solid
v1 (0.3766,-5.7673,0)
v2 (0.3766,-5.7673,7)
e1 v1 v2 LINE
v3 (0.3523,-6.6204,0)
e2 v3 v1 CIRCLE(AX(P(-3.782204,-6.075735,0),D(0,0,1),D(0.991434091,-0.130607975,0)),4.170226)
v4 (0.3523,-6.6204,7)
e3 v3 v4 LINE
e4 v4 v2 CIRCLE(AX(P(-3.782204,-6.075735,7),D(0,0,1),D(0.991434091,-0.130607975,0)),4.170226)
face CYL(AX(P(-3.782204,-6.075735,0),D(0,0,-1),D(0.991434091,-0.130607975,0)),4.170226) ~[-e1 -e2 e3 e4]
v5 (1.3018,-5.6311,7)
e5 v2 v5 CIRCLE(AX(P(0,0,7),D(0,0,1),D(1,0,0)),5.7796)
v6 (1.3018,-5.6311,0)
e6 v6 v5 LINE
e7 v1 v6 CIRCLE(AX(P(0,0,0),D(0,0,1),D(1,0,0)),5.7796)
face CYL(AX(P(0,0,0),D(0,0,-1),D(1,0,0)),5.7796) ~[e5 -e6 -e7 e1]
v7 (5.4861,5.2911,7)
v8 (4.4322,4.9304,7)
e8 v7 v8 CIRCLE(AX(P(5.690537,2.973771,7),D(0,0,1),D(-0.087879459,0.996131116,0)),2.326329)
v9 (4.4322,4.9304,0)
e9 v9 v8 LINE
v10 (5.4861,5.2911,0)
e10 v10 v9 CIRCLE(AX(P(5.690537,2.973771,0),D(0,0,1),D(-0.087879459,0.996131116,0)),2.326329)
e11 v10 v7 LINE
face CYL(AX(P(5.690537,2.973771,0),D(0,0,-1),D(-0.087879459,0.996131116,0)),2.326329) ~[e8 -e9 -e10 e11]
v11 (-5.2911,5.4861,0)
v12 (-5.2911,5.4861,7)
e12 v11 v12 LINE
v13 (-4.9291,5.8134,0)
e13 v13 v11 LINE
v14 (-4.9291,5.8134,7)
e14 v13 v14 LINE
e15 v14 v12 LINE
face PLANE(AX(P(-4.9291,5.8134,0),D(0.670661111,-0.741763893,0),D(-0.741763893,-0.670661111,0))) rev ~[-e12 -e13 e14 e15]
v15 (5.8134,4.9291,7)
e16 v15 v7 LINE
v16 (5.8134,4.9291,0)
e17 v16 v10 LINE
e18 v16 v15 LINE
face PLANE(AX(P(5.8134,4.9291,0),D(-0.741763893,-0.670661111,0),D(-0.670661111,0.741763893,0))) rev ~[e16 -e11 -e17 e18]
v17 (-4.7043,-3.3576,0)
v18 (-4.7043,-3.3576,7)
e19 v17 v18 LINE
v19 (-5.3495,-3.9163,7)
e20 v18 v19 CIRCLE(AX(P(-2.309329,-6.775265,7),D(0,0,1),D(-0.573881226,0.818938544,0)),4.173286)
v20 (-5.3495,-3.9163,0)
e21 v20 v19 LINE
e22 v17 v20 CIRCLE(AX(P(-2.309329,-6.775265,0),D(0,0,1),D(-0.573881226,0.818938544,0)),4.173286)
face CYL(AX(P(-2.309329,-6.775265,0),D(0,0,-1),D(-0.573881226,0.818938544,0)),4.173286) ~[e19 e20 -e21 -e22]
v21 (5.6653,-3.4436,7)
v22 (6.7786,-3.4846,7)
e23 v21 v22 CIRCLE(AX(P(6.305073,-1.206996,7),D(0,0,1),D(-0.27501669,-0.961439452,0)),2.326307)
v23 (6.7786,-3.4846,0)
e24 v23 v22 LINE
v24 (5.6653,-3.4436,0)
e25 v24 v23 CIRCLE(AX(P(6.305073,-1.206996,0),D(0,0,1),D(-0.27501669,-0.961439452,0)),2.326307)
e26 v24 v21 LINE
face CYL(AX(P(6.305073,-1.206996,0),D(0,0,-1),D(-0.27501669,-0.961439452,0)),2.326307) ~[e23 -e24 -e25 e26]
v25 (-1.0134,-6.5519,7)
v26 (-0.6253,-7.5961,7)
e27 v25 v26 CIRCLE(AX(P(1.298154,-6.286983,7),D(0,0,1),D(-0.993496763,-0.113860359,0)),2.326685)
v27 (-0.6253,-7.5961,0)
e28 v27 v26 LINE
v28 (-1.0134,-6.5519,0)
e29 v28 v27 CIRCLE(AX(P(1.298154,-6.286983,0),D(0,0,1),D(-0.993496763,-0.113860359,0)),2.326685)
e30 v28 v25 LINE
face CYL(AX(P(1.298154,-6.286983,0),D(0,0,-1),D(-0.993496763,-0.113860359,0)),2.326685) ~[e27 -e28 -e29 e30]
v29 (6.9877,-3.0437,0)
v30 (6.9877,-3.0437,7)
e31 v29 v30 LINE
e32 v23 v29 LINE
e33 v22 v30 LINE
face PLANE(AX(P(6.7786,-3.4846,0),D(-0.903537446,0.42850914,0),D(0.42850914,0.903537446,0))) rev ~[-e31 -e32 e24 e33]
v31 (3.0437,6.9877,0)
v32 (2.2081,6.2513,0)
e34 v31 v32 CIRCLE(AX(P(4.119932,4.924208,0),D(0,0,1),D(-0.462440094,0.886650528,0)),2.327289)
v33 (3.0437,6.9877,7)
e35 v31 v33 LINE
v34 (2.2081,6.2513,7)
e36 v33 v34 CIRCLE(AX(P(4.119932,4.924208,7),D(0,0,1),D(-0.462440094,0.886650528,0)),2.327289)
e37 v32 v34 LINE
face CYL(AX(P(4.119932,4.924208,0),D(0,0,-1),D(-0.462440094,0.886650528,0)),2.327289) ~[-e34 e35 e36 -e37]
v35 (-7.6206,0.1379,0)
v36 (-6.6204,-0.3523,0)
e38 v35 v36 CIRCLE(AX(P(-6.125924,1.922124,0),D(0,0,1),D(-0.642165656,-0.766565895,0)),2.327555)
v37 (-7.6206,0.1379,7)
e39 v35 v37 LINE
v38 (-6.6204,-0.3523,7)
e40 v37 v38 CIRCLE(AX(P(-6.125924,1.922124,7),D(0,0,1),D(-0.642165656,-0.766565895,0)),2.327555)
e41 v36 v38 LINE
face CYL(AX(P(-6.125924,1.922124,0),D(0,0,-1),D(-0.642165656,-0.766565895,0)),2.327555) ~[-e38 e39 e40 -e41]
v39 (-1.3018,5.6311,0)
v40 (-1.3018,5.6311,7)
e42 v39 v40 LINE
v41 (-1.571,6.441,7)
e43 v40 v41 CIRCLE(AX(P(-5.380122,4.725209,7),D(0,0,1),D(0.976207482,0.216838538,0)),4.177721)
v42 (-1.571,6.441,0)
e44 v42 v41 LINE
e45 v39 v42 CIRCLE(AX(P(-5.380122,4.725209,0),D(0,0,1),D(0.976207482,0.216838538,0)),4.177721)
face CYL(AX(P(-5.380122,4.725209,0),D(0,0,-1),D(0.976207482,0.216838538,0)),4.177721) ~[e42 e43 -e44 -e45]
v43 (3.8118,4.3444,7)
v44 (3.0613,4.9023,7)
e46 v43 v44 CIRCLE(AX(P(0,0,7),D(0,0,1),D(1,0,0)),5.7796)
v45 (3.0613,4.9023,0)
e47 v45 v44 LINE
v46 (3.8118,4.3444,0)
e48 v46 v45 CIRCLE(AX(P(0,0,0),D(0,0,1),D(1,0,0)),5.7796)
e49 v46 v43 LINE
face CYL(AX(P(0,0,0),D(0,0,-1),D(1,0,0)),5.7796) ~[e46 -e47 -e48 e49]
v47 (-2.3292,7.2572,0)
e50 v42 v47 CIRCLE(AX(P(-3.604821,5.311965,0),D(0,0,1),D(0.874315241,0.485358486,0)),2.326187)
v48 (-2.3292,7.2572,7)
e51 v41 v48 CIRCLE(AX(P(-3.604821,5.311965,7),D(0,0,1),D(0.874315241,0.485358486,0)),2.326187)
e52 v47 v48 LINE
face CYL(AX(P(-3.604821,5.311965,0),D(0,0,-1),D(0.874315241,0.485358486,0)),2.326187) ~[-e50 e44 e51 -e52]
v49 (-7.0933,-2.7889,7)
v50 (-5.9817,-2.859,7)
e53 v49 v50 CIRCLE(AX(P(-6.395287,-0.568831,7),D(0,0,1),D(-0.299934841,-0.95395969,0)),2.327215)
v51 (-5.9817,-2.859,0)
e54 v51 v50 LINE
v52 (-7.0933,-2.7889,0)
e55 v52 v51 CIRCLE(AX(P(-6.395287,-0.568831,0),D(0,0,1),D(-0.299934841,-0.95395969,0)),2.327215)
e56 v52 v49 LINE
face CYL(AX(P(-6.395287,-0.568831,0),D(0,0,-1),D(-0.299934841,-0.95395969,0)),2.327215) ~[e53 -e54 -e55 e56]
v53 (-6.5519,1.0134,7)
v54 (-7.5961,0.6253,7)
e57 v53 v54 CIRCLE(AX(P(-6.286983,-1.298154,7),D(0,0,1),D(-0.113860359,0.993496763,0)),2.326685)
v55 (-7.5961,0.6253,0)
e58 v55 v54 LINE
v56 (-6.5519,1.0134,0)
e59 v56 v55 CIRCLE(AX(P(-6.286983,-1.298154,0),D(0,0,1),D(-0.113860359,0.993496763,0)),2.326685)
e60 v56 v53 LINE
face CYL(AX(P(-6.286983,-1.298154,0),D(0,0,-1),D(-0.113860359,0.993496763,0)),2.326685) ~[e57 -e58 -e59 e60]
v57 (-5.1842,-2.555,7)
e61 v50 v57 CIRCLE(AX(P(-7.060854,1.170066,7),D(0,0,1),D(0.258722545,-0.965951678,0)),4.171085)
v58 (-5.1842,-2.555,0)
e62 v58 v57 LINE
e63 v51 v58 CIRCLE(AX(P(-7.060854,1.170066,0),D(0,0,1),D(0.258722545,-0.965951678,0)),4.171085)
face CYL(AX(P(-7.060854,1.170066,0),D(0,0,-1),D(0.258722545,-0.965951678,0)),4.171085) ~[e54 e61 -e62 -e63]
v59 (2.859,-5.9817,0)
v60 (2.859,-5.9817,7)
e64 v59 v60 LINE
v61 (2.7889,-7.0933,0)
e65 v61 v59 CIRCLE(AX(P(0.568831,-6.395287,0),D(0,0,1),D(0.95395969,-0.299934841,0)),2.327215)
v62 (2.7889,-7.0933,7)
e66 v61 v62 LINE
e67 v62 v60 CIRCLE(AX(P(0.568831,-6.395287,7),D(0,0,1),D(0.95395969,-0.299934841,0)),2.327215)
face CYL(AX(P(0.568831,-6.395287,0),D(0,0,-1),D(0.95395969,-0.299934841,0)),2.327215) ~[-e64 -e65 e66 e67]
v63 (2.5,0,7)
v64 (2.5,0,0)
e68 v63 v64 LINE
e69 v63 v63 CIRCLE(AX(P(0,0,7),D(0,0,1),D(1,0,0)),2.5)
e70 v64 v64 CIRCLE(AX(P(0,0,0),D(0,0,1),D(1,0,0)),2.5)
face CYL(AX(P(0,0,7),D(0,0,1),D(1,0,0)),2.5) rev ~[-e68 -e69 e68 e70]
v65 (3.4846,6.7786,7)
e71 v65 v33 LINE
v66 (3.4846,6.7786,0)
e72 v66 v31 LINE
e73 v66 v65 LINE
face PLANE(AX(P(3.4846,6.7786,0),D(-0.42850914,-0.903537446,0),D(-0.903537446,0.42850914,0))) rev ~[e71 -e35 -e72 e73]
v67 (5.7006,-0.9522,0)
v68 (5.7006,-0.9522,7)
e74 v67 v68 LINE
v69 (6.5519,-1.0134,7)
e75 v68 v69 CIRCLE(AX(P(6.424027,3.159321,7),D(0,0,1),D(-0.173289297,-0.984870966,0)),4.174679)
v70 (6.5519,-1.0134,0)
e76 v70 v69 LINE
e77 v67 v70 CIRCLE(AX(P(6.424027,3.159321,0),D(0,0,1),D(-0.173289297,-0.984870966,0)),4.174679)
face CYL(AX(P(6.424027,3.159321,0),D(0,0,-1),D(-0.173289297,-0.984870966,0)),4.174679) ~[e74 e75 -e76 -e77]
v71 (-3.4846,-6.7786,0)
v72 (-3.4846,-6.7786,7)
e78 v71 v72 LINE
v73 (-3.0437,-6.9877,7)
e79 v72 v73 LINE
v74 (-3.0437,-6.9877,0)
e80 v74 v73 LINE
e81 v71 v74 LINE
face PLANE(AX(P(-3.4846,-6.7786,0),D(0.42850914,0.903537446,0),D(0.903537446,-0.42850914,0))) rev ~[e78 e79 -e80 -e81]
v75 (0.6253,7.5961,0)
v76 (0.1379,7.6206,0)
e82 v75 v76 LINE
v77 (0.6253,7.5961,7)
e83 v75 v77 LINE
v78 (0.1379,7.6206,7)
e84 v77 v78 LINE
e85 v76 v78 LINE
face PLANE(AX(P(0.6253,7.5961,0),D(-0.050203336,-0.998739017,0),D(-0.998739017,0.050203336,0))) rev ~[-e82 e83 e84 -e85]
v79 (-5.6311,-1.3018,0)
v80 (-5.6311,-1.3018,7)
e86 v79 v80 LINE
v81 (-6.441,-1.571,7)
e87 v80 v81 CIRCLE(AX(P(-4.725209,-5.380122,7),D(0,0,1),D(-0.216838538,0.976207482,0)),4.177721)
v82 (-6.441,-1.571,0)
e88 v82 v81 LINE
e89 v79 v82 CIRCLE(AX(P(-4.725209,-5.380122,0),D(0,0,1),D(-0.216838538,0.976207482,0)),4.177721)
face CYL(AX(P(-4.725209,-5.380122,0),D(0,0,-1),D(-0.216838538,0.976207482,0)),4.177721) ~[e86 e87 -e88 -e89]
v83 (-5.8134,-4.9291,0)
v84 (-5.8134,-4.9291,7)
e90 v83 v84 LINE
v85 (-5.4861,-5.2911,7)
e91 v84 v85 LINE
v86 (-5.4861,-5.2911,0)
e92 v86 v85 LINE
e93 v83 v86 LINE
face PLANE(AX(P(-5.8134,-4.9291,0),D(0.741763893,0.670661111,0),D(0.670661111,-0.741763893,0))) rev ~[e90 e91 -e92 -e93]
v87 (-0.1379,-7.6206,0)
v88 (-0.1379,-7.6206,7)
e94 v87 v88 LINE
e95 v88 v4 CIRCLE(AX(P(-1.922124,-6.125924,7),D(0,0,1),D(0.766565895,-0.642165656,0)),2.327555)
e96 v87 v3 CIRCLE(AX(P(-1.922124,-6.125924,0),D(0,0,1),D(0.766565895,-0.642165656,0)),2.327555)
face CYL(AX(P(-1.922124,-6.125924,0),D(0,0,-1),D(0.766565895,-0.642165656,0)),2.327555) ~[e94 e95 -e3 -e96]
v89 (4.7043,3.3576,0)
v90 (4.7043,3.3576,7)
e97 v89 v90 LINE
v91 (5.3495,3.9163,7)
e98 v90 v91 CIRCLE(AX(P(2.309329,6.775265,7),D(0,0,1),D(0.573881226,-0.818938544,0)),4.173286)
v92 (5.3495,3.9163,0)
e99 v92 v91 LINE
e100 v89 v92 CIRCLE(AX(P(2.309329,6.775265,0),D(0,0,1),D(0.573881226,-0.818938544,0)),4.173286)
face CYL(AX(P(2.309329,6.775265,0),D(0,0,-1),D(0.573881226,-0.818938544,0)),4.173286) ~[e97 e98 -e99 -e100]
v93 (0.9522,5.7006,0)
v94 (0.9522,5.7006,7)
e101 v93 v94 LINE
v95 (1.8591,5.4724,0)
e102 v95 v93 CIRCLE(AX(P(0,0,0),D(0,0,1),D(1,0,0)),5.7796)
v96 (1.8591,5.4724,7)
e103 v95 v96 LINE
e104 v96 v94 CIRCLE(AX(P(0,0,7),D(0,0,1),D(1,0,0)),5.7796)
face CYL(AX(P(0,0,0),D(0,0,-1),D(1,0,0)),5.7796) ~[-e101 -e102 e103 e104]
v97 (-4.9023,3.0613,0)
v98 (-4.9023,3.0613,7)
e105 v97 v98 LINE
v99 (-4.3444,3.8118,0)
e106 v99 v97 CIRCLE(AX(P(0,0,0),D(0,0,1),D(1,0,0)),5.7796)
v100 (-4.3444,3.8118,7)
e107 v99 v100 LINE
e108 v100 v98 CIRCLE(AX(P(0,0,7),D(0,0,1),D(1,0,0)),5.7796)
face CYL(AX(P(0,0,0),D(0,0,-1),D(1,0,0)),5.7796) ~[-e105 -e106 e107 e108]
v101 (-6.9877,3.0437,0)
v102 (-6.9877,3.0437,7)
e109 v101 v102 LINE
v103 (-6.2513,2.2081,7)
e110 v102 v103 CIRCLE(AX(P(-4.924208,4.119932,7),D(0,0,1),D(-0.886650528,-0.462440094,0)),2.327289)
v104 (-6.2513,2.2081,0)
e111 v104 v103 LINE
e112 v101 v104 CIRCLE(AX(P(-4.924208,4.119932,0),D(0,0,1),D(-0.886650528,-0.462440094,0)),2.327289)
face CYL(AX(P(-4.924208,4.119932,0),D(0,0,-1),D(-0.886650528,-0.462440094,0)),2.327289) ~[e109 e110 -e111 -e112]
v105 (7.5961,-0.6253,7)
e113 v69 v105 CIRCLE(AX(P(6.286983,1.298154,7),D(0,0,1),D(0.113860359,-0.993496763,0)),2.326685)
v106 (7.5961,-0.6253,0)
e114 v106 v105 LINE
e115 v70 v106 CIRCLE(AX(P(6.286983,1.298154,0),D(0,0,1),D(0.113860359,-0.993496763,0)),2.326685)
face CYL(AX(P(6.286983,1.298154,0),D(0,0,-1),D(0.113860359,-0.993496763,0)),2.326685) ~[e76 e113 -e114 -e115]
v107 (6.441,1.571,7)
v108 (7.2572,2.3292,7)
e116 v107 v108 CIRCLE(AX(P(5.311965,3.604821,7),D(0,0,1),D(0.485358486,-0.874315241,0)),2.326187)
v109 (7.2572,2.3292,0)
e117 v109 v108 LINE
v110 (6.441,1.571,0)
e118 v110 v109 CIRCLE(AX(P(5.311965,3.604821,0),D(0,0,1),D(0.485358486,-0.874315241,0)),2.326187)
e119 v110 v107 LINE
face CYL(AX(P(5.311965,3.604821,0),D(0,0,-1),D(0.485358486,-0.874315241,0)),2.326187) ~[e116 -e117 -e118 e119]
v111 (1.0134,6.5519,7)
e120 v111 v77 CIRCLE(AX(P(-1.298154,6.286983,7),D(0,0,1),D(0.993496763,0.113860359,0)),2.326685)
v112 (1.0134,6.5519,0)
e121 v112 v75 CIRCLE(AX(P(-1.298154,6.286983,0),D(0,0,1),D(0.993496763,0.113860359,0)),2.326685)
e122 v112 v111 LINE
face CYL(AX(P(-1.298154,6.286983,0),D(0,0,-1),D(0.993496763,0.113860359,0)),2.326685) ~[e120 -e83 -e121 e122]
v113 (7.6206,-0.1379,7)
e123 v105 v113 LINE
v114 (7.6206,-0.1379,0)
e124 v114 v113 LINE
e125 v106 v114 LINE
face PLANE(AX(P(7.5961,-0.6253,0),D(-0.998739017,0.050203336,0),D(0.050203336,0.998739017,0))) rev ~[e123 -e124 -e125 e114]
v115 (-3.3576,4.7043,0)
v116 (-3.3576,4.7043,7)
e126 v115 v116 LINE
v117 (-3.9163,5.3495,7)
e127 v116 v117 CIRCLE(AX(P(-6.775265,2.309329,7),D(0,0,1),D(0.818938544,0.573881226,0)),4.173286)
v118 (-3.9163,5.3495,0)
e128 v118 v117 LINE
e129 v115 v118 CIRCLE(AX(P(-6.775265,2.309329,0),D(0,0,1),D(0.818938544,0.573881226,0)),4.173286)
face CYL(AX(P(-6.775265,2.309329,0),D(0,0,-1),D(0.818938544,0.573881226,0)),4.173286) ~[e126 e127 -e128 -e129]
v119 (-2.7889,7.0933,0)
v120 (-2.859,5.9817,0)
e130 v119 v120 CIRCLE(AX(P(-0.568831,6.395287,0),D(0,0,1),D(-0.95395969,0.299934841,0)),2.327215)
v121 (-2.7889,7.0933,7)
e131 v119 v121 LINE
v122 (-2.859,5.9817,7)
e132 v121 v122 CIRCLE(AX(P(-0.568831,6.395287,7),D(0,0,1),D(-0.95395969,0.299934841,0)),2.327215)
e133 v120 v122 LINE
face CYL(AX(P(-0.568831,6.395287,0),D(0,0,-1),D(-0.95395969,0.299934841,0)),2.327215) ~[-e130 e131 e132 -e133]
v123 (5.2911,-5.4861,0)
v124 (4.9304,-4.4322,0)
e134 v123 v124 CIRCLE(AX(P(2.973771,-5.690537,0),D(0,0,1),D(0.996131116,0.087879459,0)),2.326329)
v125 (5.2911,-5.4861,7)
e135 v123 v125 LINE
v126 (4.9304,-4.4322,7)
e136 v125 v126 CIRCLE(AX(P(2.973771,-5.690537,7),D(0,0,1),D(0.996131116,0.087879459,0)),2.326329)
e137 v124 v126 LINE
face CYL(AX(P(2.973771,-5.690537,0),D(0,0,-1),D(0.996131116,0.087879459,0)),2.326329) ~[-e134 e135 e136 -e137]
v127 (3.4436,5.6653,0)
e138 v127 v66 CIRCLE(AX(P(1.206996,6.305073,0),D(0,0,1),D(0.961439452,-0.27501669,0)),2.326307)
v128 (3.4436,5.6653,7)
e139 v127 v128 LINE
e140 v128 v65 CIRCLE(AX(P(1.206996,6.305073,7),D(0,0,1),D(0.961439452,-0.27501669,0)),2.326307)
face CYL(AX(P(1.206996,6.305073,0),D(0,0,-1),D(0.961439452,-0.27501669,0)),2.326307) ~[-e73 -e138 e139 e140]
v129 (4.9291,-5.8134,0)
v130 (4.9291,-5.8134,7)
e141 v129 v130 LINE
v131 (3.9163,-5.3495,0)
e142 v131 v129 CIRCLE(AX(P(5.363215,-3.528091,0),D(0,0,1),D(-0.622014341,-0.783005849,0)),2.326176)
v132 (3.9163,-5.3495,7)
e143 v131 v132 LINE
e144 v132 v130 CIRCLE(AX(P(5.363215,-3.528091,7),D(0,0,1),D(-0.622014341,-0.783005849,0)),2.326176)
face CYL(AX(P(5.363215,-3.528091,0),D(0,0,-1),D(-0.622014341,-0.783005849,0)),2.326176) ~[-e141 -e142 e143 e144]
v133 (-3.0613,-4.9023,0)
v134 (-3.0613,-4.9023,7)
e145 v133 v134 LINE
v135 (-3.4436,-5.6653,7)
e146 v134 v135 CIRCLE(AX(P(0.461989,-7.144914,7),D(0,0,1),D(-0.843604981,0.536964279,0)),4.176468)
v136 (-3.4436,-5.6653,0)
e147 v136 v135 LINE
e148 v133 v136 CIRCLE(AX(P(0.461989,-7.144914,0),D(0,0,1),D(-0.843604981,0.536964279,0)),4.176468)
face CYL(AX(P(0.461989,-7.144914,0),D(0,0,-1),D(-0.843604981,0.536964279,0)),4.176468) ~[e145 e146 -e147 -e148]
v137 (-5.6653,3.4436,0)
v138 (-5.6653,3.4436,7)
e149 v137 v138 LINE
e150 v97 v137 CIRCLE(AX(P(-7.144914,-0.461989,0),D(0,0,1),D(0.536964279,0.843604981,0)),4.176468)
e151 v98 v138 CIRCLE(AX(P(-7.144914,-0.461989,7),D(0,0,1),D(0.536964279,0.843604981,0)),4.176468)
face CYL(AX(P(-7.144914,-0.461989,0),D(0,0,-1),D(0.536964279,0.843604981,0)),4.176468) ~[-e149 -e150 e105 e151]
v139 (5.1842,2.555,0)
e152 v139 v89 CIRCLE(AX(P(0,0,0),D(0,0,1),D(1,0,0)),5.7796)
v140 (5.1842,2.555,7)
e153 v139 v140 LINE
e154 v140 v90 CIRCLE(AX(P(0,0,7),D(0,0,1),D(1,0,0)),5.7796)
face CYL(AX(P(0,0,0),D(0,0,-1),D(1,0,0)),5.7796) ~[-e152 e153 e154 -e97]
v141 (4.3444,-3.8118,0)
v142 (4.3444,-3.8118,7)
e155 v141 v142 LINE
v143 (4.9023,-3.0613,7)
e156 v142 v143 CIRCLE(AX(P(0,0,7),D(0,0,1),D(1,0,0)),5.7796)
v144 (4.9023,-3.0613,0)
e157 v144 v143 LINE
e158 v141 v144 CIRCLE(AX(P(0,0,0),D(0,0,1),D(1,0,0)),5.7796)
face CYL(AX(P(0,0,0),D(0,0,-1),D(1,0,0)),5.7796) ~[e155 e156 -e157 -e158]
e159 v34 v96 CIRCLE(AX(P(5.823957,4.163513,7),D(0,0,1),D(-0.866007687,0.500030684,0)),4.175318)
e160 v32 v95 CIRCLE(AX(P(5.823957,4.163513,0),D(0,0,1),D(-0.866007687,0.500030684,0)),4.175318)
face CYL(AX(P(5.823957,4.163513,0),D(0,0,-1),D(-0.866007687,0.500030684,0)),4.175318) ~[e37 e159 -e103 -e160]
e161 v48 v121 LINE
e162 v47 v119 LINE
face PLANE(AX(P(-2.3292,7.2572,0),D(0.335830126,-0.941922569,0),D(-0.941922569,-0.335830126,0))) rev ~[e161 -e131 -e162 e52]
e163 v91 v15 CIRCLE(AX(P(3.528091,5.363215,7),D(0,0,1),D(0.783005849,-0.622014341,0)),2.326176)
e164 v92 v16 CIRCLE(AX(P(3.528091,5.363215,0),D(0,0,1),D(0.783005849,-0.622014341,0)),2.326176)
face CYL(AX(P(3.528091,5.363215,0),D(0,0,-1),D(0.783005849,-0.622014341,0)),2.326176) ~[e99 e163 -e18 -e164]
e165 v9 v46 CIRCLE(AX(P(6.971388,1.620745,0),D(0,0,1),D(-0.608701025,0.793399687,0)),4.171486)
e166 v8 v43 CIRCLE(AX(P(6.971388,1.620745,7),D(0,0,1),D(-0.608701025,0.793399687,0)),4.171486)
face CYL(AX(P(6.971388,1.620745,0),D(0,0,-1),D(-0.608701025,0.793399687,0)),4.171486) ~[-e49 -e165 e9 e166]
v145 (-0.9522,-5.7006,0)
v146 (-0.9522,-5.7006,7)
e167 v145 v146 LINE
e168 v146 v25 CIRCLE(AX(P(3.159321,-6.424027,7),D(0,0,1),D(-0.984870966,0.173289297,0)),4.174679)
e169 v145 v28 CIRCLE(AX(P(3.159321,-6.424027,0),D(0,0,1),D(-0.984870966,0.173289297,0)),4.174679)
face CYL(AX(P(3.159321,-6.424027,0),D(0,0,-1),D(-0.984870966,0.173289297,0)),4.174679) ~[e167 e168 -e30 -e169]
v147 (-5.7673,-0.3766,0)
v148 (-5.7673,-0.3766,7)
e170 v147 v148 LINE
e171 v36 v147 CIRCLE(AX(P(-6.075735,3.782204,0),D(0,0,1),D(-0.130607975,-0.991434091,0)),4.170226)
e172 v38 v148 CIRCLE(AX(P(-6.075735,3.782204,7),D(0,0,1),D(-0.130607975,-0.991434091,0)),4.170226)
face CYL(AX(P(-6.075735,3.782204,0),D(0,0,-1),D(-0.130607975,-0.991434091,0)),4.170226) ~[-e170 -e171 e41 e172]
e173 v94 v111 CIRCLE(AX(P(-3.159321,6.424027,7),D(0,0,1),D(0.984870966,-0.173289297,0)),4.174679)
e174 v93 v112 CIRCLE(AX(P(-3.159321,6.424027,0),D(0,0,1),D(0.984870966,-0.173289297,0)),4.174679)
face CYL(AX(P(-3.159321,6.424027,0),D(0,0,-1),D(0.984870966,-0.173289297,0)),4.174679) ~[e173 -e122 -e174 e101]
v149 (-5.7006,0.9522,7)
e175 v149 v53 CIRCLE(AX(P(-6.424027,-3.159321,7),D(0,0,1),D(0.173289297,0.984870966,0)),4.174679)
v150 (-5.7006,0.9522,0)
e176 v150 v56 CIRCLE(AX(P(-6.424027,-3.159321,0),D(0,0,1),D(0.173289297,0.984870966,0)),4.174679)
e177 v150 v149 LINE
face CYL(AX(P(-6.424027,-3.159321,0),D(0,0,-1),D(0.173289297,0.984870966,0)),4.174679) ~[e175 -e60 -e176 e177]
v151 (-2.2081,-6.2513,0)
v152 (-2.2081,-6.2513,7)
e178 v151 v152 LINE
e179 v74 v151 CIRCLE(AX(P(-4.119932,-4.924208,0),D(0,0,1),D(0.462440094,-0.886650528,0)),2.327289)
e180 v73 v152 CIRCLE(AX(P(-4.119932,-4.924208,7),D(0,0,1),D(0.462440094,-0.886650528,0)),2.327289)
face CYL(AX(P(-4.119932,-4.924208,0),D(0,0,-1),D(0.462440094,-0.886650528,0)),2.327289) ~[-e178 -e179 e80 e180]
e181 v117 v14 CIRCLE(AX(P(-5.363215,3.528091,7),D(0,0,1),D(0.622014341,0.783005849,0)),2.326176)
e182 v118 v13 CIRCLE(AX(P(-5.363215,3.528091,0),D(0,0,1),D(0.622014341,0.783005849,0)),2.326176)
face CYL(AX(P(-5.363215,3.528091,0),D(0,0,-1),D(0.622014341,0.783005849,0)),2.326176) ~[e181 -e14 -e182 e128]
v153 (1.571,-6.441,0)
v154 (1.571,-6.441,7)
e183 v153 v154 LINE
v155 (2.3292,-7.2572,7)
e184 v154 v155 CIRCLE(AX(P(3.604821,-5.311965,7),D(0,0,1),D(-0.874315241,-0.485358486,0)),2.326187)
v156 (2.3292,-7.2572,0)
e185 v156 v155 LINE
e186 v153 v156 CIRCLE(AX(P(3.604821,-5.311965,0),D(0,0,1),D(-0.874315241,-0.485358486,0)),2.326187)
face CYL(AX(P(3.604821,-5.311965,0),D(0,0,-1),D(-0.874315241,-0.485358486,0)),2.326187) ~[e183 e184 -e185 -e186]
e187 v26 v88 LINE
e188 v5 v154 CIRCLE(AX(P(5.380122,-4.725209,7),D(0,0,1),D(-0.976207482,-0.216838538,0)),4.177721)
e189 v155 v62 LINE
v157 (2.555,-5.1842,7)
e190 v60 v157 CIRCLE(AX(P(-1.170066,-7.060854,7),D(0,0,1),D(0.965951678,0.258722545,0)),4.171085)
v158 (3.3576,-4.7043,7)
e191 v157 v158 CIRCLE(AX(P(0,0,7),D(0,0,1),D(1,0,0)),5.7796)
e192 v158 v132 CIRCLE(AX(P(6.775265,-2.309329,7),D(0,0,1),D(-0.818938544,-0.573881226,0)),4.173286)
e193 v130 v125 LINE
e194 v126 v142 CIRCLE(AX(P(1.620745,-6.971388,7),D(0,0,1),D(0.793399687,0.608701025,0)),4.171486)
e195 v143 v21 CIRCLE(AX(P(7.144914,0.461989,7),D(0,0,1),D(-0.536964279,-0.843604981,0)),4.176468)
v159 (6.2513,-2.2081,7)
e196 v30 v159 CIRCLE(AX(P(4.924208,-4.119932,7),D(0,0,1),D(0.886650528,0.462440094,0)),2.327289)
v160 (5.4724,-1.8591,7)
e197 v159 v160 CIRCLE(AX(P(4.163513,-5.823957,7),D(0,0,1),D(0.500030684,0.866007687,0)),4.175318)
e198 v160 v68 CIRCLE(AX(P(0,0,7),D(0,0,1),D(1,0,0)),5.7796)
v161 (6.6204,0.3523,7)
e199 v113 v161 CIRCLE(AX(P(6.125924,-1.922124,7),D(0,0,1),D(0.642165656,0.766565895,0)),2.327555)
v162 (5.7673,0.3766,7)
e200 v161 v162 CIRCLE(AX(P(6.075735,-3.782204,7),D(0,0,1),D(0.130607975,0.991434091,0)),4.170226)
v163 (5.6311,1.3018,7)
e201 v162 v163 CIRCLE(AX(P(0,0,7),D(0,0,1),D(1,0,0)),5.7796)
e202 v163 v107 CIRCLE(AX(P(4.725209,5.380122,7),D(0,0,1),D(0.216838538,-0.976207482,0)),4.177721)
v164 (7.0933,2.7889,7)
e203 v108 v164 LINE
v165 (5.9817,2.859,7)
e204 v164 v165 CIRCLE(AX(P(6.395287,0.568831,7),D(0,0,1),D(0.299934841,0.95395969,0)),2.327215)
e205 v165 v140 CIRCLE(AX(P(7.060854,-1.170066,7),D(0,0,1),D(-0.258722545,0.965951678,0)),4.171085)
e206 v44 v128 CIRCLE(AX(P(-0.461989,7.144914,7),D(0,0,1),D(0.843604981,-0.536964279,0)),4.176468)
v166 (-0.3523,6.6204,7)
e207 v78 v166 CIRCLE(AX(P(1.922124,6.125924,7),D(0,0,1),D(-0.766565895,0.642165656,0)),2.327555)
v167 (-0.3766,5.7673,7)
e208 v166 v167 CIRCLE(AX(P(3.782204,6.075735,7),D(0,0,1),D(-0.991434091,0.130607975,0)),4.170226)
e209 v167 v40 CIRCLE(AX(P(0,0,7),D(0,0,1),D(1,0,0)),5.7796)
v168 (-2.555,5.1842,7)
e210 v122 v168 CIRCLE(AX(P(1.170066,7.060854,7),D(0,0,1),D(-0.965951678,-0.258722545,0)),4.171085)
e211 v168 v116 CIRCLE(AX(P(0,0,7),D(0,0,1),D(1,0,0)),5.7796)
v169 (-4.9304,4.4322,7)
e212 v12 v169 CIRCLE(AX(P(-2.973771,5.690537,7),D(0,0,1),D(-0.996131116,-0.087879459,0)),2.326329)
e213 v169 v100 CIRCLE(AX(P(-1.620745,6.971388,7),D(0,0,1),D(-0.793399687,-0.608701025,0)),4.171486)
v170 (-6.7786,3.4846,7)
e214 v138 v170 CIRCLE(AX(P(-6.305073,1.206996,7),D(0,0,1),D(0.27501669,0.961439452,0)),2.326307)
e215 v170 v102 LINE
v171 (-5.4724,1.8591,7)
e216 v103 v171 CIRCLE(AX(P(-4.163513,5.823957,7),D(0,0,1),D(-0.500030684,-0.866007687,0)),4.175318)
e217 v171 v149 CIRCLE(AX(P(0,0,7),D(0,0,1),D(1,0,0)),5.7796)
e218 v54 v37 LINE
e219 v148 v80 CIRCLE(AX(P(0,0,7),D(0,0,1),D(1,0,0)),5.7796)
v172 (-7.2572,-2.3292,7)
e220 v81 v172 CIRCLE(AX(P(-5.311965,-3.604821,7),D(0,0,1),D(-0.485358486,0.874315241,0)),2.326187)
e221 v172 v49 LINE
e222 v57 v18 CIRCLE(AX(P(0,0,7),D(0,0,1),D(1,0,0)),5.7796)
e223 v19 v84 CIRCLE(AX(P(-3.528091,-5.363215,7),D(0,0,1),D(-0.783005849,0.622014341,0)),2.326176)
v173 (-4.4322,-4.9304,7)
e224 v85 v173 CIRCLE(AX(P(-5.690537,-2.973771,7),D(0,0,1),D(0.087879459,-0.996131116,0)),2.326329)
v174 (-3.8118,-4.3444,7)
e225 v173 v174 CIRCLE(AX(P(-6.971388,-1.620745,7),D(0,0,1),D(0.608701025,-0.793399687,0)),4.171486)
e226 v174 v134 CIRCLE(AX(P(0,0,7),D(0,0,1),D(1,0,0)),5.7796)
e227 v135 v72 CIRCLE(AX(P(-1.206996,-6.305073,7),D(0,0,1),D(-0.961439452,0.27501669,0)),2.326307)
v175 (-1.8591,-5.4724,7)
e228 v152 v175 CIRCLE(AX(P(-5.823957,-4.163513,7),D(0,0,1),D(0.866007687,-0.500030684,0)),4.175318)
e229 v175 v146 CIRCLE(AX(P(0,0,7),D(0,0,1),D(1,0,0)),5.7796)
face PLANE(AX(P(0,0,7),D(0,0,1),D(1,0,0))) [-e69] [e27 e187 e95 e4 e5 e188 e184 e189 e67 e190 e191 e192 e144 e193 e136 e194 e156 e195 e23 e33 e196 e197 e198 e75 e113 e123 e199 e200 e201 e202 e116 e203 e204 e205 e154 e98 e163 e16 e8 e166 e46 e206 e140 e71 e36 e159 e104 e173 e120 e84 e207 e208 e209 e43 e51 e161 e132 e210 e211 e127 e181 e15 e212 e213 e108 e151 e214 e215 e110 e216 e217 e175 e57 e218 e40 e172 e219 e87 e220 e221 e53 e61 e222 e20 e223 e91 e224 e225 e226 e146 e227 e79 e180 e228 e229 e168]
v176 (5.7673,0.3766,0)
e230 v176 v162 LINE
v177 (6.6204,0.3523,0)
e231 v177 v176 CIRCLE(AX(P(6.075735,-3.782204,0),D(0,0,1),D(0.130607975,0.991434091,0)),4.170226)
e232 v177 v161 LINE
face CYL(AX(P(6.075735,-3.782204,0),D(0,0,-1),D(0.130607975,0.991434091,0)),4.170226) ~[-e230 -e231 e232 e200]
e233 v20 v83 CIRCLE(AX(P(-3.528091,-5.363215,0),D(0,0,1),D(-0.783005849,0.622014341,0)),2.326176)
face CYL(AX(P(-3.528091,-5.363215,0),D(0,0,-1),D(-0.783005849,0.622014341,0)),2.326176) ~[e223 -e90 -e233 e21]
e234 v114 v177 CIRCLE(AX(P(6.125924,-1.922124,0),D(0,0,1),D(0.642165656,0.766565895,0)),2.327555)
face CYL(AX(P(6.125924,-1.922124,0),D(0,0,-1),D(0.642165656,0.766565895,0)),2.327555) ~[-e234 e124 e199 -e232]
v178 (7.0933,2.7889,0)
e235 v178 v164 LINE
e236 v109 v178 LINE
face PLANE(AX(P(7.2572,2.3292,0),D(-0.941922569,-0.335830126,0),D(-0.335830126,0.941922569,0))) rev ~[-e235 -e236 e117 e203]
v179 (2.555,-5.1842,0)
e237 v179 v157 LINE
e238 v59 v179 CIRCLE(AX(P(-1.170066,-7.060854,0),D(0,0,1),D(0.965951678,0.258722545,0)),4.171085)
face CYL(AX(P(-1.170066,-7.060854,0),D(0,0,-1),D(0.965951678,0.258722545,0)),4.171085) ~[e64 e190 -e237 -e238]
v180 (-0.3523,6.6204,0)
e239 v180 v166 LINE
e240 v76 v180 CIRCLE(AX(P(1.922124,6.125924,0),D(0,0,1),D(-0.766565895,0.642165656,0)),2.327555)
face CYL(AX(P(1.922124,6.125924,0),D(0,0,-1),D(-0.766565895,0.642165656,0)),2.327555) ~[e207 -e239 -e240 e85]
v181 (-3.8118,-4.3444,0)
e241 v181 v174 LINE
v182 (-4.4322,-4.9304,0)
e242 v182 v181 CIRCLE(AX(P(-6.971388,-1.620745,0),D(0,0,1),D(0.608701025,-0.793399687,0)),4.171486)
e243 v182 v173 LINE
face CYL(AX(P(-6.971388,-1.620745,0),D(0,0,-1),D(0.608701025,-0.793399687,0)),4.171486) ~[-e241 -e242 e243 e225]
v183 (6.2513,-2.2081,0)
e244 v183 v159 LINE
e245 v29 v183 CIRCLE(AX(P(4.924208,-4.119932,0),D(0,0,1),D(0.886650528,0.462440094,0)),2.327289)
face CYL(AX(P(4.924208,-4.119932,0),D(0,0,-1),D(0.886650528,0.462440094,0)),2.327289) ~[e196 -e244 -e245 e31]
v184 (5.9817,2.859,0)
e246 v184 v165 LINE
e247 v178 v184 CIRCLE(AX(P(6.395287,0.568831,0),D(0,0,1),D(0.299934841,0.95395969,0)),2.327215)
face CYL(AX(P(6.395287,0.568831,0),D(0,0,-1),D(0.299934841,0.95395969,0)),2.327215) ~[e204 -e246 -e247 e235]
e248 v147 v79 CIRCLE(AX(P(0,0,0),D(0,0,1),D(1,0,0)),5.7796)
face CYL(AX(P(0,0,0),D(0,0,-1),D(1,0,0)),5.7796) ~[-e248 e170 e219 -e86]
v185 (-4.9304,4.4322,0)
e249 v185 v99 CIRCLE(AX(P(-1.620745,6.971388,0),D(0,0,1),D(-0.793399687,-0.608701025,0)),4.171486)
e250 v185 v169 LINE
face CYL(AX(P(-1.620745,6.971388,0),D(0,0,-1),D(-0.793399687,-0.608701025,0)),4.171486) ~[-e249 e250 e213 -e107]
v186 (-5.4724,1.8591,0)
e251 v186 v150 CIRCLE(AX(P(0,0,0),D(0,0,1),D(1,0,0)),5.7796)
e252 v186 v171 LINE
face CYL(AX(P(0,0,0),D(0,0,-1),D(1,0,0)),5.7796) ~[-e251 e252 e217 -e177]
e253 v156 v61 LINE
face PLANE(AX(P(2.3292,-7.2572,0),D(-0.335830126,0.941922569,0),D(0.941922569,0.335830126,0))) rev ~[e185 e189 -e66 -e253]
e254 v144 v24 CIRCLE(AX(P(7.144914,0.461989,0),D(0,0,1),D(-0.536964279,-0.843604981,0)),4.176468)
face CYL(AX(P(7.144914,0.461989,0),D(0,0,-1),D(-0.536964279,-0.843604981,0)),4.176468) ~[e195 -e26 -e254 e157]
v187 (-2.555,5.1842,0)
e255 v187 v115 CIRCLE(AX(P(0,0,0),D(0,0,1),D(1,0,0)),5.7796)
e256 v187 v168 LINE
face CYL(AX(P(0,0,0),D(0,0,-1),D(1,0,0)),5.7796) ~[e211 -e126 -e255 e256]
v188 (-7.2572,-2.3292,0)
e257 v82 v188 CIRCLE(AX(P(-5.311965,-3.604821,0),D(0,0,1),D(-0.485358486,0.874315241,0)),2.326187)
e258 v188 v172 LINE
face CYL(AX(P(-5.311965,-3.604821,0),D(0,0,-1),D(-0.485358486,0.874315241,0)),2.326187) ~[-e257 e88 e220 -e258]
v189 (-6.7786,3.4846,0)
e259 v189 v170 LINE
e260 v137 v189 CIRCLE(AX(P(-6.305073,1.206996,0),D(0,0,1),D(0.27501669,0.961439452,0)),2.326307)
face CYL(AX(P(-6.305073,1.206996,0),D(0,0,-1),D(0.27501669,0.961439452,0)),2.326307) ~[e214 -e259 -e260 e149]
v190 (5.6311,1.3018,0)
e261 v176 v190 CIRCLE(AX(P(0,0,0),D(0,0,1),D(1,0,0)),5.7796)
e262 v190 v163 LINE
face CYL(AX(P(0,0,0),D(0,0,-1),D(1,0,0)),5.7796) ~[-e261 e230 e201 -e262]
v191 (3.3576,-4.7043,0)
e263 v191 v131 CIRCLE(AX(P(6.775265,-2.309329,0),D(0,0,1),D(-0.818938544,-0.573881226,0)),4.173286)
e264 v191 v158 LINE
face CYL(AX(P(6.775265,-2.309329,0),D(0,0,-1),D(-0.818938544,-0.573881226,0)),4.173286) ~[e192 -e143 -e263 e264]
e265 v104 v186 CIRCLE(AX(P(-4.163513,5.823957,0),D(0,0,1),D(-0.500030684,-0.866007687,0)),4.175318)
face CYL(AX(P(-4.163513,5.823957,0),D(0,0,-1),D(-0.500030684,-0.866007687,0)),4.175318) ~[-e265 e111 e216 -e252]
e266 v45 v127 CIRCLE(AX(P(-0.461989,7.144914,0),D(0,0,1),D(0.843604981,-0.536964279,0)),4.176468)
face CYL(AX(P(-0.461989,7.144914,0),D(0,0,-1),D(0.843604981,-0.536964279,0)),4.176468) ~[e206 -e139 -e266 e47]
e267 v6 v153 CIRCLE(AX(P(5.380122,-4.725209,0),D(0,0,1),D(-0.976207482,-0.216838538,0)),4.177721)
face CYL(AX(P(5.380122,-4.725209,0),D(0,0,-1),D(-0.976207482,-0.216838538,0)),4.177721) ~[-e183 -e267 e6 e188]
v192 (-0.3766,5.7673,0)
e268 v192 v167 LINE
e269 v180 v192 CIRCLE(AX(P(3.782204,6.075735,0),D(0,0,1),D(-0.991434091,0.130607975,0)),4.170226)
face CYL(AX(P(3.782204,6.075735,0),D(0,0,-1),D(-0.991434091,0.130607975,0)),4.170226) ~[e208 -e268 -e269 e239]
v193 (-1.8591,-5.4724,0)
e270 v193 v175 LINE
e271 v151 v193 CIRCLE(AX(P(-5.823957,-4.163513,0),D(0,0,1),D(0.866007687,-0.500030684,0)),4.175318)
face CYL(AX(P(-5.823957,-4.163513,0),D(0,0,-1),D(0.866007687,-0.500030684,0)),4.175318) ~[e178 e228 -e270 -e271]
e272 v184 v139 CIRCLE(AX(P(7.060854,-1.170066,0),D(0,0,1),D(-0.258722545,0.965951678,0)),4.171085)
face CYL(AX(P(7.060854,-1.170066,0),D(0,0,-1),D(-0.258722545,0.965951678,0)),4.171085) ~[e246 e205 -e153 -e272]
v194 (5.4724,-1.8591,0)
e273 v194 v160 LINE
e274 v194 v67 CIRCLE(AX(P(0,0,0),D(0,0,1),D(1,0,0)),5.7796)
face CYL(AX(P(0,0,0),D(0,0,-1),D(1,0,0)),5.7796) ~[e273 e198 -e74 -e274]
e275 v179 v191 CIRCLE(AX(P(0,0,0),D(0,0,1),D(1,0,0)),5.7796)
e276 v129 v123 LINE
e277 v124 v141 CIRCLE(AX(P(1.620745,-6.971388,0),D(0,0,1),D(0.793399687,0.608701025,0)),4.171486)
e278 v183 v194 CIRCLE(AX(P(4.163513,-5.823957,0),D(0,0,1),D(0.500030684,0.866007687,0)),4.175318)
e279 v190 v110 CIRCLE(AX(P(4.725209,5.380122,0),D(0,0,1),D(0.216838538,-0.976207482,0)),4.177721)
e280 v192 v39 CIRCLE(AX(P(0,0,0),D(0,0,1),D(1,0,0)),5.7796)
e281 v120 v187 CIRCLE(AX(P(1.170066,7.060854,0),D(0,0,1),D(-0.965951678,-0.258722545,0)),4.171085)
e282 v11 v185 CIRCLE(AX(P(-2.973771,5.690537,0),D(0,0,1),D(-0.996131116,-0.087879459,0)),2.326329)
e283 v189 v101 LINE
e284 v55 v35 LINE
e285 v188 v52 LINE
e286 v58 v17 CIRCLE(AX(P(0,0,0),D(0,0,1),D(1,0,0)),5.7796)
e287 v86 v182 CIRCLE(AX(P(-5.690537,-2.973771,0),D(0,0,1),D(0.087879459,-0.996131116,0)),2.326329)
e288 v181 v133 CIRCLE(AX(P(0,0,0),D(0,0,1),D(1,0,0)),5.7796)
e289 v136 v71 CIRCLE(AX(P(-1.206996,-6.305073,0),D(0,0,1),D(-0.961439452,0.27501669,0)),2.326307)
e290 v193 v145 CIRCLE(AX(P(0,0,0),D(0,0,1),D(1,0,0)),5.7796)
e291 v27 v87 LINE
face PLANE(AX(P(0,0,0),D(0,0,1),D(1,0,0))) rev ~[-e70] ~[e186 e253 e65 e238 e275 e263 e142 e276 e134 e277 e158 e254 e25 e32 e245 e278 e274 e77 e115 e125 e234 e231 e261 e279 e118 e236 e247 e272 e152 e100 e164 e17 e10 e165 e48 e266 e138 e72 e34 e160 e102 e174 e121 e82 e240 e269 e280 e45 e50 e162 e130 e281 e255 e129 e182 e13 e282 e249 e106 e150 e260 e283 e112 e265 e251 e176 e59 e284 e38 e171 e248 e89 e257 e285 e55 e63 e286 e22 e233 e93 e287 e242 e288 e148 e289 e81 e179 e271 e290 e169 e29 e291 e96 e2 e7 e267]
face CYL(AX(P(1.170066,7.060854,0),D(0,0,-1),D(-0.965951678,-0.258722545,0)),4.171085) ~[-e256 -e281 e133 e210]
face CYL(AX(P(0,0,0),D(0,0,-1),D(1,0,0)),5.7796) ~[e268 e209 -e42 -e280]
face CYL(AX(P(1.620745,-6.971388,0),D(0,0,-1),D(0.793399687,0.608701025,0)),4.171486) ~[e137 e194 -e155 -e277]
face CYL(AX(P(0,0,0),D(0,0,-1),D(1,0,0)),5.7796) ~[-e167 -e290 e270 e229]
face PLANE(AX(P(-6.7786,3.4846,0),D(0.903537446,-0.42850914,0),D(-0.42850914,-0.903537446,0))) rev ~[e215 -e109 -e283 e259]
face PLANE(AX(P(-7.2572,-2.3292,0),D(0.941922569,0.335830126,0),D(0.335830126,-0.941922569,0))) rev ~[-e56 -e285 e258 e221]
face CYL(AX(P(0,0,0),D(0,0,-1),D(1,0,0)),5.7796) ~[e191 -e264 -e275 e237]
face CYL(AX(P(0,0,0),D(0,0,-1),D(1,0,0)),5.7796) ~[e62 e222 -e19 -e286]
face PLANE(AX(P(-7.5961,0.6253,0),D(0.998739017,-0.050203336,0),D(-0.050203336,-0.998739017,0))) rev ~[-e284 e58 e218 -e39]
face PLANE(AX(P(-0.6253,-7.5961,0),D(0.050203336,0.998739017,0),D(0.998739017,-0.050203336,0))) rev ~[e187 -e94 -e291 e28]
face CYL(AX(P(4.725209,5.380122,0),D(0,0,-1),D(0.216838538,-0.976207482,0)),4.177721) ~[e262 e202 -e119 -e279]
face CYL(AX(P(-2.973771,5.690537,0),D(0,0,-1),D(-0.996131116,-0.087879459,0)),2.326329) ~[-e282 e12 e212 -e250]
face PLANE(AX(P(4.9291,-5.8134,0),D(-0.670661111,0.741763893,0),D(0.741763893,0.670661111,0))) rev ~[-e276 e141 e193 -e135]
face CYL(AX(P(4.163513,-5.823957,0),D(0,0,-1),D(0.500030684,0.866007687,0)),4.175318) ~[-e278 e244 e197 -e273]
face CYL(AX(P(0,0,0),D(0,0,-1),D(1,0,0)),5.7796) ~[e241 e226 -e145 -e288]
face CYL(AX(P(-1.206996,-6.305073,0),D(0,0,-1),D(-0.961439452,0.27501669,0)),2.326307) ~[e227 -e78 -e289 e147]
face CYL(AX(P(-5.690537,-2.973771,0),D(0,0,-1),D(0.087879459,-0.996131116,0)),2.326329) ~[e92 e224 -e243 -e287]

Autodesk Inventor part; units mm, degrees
ref_plane "YZ Plane" through (0, 0, 0) normal (1, 0, 0) x (0, 1, 0)
ref_plane "XZ Plane" through (0, 0, 0) normal (0, 1, 0) x (-1, 0, 0)
ref_plane "XY Plane" through (0, 0, 0) normal (0, 0, 1) x (1, 0, 0)
sketch "Sketch1" plane through (0, 0, 0) normal (0, 0, 1) x (1, 0, 0)
  circle A0 centre (0, 0) radius 5.7796
  arc A1 (0.9522, 5.7006) -> (1.0134, 6.5519) centre (-3.1591, 6.424) ccw
  arc A2 (1.0134, 6.5519) -> (0.6253, 7.5961) centre (-1.2985, 6.2869) ccw
  arc A3 (-0.3523, 6.6204) -> (-0.3766, 5.7673) centre (3.7864, 6.0754) ccw
  arc A4 (0.1379, 7.6206) -> (-0.3523, 6.6204) centre (1.9217, 6.1262) ccw
  line L0 (0.6253, 7.5961) -> (0.1379, 7.6206)
  arc A5 (0.9522, 5.7006) -> (-0.3766, 5.7673) centre (0, 0) ccw
  arc A6 (-2.7889, 7.0933) -> (-2.859, 5.9817) centre (-0.5689, 6.3953) ccw
  arc A7 (-2.859, 5.9817) -> (-2.555, 5.1842) centre (1.1733, 7.0619) ccw
  line L1 (-2.3292, 7.2572) -> (-2.7889, 7.0933)
  arc A8 (-1.571, 6.441) -> (-2.3292, 7.2572) centre (-3.6056, 5.3114) ccw
  arc A9 (-1.3018, 5.6311) -> (-1.571, 6.441) centre (-5.3769, 4.7261) ccw
  arc A10 (-1.3018, 5.6311) -> (-2.555, 5.1842) centre (0, 0) ccw
  arc A11 (-5.2911, 5.4861) -> (-4.9304, 4.4322) centre (-2.973, 5.6907) ccw
  arc A12 (-4.9304, 4.4322) -> (-4.3444, 3.8118) centre (-1.6185, 6.9733) ccw
  line L2 (-4.9291, 5.8134) -> (-5.2911, 5.4861)
  arc A13 (-3.9163, 5.3495) -> (-4.9291, 5.8134) centre (-5.3637, 3.5273) ccw
  arc A14 (-3.3576, 4.7043) -> (-3.9163, 5.3495) centre (-6.7762, 2.3086) ccw
  arc A15 (-3.3576, 4.7043) -> (-4.3444, 3.8118) centre (0, 0) ccw
  arc A16 (-6.9877, 3.0437) -> (-6.2513, 2.2081) centre (-4.9244, 4.1198) ccw
  arc A17 (-6.2513, 2.2081) -> (-5.4724, 1.8591) centre (-4.1639, 5.8232) ccw
  line L3 (-6.7786, 3.4846) -> (-6.9877, 3.0437)
  arc A18 (-5.6653, 3.4436) -> (-6.7786, 3.4846) centre (-6.3052, 1.2062) ccw
  arc A19 (-4.9023, 3.0613) -> (-5.6653, 3.4436) centre (-7.1439, -0.4602) ccw
  arc A20 (-4.9023, 3.0613) -> (-5.4724, 1.8591) centre (0, 0) ccw
  arc A21 (-7.6206, 0.1379) -> (-6.6204, -0.3523) centre (-6.1262, 1.9217) ccw
  arc A22 (-6.6204, -0.3523) -> (-5.7673, -0.3766) centre (-6.0754, 3.7864) ccw
  line L4 (-7.5961, 0.6253) -> (-7.6206, 0.1379)
  arc A23 (-6.5519, 1.0134) -> (-7.5961, 0.6253) centre (-6.2869, -1.2985) ccw
  arc A24 (-5.7006, 0.9522) -> (-6.5519, 1.0134) centre (-6.424, -3.1591) ccw
  arc A25 (-5.7006, 0.9522) -> (-5.7673, -0.3766) centre (0, 0) ccw
  arc A26 (-7.0933, -2.7889) -> (-5.9817, -2.859) centre (-6.3953, -0.5689) ccw
  arc A27 (-5.9817, -2.859) -> (-5.1842, -2.555) centre (-7.0619, 1.1733) ccw
  line L5 (-7.2572, -2.3292) -> (-7.0933, -2.7889)
  arc A28 (-6.441, -1.571) -> (-7.2572, -2.3292) centre (-5.3114, -3.6056) ccw
  arc A29 (-5.6311, -1.3018) -> (-6.441, -1.571) centre (-4.7261, -5.3769) ccw
  arc A30 (-5.6311, -1.3018) -> (-5.1842, -2.555) centre (0, 0) ccw
  arc A31 (-5.4861, -5.2911) -> (-4.4322, -4.9304) centre (-5.6907, -2.973) ccw
  arc A32 (-4.4322, -4.9304) -> (-3.8118, -4.3444) centre (-6.9733, -1.6185) ccw
  line L6 (-5.8134, -4.9291) -> (-5.4861, -5.2911)
  arc A33 (-5.3495, -3.9163) -> (-5.8134, -4.9291) centre (-3.5273, -5.3637) ccw
  arc A34 (-4.7043, -3.3576) -> (-5.3495, -3.9163) centre (-2.3086, -6.7762) ccw
  arc A35 (-4.7043, -3.3576) -> (-3.8118, -4.3444) centre (0, 0) ccw
  arc A36 (-3.0437, -6.9877) -> (-2.2081, -6.2513) centre (-4.1198, -4.9244) ccw
  arc A37 (-2.2081, -6.2513) -> (-1.8591, -5.4724) centre (-5.8232, -4.1639) ccw
  line L7 (-3.4846, -6.7786) -> (-3.0437, -6.9877)
  arc A38 (-3.4436, -5.6653) -> (-3.4846, -6.7786) centre (-1.2062, -6.3052) ccw
  arc A39 (-3.0613, -4.9023) -> (-3.4436, -5.6653) centre (0.4602, -7.1439) ccw
  arc A40 (-3.0613, -4.9023) -> (-1.8591, -5.4724) centre (0, 0) ccw
  arc A41 (-0.1379, -7.6206) -> (0.3523, -6.6204) centre (-1.9217, -6.1262) ccw
  arc A42 (0.3523, -6.6204) -> (0.3766, -5.7673) centre (-3.7864, -6.0754) ccw
  line L8 (-0.6253, -7.5961) -> (-0.1379, -7.6206)
  arc A43 (-1.0134, -6.5519) -> (-0.6253, -7.5961) centre (1.2985, -6.2869) ccw
  arc A44 (-0.9522, -5.7006) -> (-1.0134, -6.5519) centre (3.1591, -6.424) ccw
  arc A45 (-0.9522, -5.7006) -> (0.3766, -5.7673) centre (0, 0) ccw
  arc A46 (2.7889, -7.0933) -> (2.859, -5.9817) centre (0.5689, -6.3953) ccw
  arc A47 (2.859, -5.9817) -> (2.555, -5.1842) centre (-1.1733, -7.0619) ccw
  line L9 (2.3292, -7.2572) -> (2.7889, -7.0933)
  arc A48 (1.571, -6.441) -> (2.3292, -7.2572) centre (3.6056, -5.3114) ccw
  arc A49 (1.3018, -5.6311) -> (1.571, -6.441) centre (5.3769, -4.7261) ccw
  arc A50 (1.3018, -5.6311) -> (2.555, -5.1842) centre (0, 0) ccw
  arc A51 (5.2911, -5.4861) -> (4.9304, -4.4322) centre (2.973, -5.6907) ccw
  arc A52 (4.9304, -4.4322) -> (4.3444, -3.8118) centre (1.6185, -6.9733) ccw
  line L10 (4.9291, -5.8134) -> (5.2911, -5.4861)
  arc A53 (3.9163, -5.3495) -> (4.9291, -5.8134) centre (5.3637, -3.5273) ccw
  arc A54 (3.3576, -4.7043) -> (3.9163, -5.3495) centre (6.7762, -2.3086) ccw
  arc A55 (3.3576, -4.7043) -> (4.3444, -3.8118) centre (0, 0) ccw
  arc A56 (6.9877, -3.0437) -> (6.2513, -2.2081) centre (4.9244, -4.1198) ccw
  arc A57 (6.2513, -2.2081) -> (5.4724, -1.8591) centre (4.1639, -5.8232) ccw
  line L11 (6.7786, -3.4846) -> (6.9877, -3.0437)
  arc A58 (5.6653, -3.4436) -> (6.7786, -3.4846) centre (6.3052, -1.2062) ccw
  arc A59 (4.9023, -3.0613) -> (5.6653, -3.4436) centre (7.1439, 0.4602) ccw
  arc A60 (4.9023, -3.0613) -> (5.4724, -1.8591) centre (0, 0) ccw
  arc A61 (7.6206, -0.1379) -> (6.6204, 0.3523) centre (6.1262, -1.9217) ccw
  arc A62 (6.6204, 0.3523) -> (5.7673, 0.3766) centre (6.0754, -3.7864) ccw
  line L12 (7.5961, -0.6253) -> (7.6206, -0.1379)
  arc A63 (6.5519, -1.0134) -> (7.5961, -0.6253) centre (6.2869, 1.2985) ccw
  arc A64 (5.7006, -0.9522) -> (6.5519, -1.0134) centre (6.424, 3.1591) ccw
  arc A65 (5.7006, -0.9522) -> (5.7673, 0.3766) centre (0, 0) ccw
  arc A66 (7.0933, 2.7889) -> (5.9817, 2.859) centre (6.3953, 0.5689) ccw
  arc A67 (5.9817, 2.859) -> (5.1842, 2.555) centre (7.0619, -1.1733) ccw
  line L13 (7.2572, 2.3292) -> (7.0933, 2.7889)
  arc A68 (6.441, 1.571) -> (7.2572, 2.3292) centre (5.3114, 3.6056) ccw
  arc A69 (5.6311, 1.3018) -> (6.441, 1.571) centre (4.7261, 5.3769) ccw
  arc A70 (5.6311, 1.3018) -> (5.1842, 2.555) centre (0, 0) ccw
  arc A71 (5.4861, 5.2911) -> (4.4322, 4.9304) centre (5.6907, 2.973) ccw
  arc A72 (4.4322, 4.9304) -> (3.8118, 4.3444) centre (6.9733, 1.6185) ccw
  line L14 (5.8134, 4.9291) -> (5.4861, 5.2911)
  arc A73 (5.3495, 3.9163) -> (5.8134, 4.9291) centre (3.5273, 5.3637) ccw
  arc A74 (4.7043, 3.3576) -> (5.3495, 3.9163) centre (2.3086, 6.7762) ccw
  arc A75 (4.7043, 3.3576) -> (3.8118, 4.3444) centre (0, 0) ccw
  arc A76 (3.0437, 6.9877) -> (2.2081, 6.2513) centre (4.1198, 4.9244) ccw
  arc A77 (2.2081, 6.2513) -> (1.8591, 5.4724) centre (5.8232, 4.1639) ccw
  line L15 (3.4846, 6.7786) -> (3.0437, 6.9877)
  arc A78 (3.4436, 5.6653) -> (3.4846, 6.7786) centre (1.2062, 6.3052) ccw
  arc A79 (3.0613, 4.9023) -> (3.4436, 5.6653) centre (-0.4602, 7.1439) ccw
  arc A80 (3.0613, 4.9023) -> (1.8591, 5.4724) centre (0, 0) ccw
  dimension "d22" = 11.5592
  dimension "d18" = 360
extrude "Extrusion1" add sketch "Sketch1" along normal blind 7
sketch "Sketch2" plane through (0, 0, 7) normal (0, 0, 1) x (1, 0, 0)
  circle A0 centre (0, 0) radius 2.5
  dimension "d23" = 5
extrude "Extrusion2" cut sketch "Sketch2" against normal blind 10
properties part number "SUPERGEAR12"
